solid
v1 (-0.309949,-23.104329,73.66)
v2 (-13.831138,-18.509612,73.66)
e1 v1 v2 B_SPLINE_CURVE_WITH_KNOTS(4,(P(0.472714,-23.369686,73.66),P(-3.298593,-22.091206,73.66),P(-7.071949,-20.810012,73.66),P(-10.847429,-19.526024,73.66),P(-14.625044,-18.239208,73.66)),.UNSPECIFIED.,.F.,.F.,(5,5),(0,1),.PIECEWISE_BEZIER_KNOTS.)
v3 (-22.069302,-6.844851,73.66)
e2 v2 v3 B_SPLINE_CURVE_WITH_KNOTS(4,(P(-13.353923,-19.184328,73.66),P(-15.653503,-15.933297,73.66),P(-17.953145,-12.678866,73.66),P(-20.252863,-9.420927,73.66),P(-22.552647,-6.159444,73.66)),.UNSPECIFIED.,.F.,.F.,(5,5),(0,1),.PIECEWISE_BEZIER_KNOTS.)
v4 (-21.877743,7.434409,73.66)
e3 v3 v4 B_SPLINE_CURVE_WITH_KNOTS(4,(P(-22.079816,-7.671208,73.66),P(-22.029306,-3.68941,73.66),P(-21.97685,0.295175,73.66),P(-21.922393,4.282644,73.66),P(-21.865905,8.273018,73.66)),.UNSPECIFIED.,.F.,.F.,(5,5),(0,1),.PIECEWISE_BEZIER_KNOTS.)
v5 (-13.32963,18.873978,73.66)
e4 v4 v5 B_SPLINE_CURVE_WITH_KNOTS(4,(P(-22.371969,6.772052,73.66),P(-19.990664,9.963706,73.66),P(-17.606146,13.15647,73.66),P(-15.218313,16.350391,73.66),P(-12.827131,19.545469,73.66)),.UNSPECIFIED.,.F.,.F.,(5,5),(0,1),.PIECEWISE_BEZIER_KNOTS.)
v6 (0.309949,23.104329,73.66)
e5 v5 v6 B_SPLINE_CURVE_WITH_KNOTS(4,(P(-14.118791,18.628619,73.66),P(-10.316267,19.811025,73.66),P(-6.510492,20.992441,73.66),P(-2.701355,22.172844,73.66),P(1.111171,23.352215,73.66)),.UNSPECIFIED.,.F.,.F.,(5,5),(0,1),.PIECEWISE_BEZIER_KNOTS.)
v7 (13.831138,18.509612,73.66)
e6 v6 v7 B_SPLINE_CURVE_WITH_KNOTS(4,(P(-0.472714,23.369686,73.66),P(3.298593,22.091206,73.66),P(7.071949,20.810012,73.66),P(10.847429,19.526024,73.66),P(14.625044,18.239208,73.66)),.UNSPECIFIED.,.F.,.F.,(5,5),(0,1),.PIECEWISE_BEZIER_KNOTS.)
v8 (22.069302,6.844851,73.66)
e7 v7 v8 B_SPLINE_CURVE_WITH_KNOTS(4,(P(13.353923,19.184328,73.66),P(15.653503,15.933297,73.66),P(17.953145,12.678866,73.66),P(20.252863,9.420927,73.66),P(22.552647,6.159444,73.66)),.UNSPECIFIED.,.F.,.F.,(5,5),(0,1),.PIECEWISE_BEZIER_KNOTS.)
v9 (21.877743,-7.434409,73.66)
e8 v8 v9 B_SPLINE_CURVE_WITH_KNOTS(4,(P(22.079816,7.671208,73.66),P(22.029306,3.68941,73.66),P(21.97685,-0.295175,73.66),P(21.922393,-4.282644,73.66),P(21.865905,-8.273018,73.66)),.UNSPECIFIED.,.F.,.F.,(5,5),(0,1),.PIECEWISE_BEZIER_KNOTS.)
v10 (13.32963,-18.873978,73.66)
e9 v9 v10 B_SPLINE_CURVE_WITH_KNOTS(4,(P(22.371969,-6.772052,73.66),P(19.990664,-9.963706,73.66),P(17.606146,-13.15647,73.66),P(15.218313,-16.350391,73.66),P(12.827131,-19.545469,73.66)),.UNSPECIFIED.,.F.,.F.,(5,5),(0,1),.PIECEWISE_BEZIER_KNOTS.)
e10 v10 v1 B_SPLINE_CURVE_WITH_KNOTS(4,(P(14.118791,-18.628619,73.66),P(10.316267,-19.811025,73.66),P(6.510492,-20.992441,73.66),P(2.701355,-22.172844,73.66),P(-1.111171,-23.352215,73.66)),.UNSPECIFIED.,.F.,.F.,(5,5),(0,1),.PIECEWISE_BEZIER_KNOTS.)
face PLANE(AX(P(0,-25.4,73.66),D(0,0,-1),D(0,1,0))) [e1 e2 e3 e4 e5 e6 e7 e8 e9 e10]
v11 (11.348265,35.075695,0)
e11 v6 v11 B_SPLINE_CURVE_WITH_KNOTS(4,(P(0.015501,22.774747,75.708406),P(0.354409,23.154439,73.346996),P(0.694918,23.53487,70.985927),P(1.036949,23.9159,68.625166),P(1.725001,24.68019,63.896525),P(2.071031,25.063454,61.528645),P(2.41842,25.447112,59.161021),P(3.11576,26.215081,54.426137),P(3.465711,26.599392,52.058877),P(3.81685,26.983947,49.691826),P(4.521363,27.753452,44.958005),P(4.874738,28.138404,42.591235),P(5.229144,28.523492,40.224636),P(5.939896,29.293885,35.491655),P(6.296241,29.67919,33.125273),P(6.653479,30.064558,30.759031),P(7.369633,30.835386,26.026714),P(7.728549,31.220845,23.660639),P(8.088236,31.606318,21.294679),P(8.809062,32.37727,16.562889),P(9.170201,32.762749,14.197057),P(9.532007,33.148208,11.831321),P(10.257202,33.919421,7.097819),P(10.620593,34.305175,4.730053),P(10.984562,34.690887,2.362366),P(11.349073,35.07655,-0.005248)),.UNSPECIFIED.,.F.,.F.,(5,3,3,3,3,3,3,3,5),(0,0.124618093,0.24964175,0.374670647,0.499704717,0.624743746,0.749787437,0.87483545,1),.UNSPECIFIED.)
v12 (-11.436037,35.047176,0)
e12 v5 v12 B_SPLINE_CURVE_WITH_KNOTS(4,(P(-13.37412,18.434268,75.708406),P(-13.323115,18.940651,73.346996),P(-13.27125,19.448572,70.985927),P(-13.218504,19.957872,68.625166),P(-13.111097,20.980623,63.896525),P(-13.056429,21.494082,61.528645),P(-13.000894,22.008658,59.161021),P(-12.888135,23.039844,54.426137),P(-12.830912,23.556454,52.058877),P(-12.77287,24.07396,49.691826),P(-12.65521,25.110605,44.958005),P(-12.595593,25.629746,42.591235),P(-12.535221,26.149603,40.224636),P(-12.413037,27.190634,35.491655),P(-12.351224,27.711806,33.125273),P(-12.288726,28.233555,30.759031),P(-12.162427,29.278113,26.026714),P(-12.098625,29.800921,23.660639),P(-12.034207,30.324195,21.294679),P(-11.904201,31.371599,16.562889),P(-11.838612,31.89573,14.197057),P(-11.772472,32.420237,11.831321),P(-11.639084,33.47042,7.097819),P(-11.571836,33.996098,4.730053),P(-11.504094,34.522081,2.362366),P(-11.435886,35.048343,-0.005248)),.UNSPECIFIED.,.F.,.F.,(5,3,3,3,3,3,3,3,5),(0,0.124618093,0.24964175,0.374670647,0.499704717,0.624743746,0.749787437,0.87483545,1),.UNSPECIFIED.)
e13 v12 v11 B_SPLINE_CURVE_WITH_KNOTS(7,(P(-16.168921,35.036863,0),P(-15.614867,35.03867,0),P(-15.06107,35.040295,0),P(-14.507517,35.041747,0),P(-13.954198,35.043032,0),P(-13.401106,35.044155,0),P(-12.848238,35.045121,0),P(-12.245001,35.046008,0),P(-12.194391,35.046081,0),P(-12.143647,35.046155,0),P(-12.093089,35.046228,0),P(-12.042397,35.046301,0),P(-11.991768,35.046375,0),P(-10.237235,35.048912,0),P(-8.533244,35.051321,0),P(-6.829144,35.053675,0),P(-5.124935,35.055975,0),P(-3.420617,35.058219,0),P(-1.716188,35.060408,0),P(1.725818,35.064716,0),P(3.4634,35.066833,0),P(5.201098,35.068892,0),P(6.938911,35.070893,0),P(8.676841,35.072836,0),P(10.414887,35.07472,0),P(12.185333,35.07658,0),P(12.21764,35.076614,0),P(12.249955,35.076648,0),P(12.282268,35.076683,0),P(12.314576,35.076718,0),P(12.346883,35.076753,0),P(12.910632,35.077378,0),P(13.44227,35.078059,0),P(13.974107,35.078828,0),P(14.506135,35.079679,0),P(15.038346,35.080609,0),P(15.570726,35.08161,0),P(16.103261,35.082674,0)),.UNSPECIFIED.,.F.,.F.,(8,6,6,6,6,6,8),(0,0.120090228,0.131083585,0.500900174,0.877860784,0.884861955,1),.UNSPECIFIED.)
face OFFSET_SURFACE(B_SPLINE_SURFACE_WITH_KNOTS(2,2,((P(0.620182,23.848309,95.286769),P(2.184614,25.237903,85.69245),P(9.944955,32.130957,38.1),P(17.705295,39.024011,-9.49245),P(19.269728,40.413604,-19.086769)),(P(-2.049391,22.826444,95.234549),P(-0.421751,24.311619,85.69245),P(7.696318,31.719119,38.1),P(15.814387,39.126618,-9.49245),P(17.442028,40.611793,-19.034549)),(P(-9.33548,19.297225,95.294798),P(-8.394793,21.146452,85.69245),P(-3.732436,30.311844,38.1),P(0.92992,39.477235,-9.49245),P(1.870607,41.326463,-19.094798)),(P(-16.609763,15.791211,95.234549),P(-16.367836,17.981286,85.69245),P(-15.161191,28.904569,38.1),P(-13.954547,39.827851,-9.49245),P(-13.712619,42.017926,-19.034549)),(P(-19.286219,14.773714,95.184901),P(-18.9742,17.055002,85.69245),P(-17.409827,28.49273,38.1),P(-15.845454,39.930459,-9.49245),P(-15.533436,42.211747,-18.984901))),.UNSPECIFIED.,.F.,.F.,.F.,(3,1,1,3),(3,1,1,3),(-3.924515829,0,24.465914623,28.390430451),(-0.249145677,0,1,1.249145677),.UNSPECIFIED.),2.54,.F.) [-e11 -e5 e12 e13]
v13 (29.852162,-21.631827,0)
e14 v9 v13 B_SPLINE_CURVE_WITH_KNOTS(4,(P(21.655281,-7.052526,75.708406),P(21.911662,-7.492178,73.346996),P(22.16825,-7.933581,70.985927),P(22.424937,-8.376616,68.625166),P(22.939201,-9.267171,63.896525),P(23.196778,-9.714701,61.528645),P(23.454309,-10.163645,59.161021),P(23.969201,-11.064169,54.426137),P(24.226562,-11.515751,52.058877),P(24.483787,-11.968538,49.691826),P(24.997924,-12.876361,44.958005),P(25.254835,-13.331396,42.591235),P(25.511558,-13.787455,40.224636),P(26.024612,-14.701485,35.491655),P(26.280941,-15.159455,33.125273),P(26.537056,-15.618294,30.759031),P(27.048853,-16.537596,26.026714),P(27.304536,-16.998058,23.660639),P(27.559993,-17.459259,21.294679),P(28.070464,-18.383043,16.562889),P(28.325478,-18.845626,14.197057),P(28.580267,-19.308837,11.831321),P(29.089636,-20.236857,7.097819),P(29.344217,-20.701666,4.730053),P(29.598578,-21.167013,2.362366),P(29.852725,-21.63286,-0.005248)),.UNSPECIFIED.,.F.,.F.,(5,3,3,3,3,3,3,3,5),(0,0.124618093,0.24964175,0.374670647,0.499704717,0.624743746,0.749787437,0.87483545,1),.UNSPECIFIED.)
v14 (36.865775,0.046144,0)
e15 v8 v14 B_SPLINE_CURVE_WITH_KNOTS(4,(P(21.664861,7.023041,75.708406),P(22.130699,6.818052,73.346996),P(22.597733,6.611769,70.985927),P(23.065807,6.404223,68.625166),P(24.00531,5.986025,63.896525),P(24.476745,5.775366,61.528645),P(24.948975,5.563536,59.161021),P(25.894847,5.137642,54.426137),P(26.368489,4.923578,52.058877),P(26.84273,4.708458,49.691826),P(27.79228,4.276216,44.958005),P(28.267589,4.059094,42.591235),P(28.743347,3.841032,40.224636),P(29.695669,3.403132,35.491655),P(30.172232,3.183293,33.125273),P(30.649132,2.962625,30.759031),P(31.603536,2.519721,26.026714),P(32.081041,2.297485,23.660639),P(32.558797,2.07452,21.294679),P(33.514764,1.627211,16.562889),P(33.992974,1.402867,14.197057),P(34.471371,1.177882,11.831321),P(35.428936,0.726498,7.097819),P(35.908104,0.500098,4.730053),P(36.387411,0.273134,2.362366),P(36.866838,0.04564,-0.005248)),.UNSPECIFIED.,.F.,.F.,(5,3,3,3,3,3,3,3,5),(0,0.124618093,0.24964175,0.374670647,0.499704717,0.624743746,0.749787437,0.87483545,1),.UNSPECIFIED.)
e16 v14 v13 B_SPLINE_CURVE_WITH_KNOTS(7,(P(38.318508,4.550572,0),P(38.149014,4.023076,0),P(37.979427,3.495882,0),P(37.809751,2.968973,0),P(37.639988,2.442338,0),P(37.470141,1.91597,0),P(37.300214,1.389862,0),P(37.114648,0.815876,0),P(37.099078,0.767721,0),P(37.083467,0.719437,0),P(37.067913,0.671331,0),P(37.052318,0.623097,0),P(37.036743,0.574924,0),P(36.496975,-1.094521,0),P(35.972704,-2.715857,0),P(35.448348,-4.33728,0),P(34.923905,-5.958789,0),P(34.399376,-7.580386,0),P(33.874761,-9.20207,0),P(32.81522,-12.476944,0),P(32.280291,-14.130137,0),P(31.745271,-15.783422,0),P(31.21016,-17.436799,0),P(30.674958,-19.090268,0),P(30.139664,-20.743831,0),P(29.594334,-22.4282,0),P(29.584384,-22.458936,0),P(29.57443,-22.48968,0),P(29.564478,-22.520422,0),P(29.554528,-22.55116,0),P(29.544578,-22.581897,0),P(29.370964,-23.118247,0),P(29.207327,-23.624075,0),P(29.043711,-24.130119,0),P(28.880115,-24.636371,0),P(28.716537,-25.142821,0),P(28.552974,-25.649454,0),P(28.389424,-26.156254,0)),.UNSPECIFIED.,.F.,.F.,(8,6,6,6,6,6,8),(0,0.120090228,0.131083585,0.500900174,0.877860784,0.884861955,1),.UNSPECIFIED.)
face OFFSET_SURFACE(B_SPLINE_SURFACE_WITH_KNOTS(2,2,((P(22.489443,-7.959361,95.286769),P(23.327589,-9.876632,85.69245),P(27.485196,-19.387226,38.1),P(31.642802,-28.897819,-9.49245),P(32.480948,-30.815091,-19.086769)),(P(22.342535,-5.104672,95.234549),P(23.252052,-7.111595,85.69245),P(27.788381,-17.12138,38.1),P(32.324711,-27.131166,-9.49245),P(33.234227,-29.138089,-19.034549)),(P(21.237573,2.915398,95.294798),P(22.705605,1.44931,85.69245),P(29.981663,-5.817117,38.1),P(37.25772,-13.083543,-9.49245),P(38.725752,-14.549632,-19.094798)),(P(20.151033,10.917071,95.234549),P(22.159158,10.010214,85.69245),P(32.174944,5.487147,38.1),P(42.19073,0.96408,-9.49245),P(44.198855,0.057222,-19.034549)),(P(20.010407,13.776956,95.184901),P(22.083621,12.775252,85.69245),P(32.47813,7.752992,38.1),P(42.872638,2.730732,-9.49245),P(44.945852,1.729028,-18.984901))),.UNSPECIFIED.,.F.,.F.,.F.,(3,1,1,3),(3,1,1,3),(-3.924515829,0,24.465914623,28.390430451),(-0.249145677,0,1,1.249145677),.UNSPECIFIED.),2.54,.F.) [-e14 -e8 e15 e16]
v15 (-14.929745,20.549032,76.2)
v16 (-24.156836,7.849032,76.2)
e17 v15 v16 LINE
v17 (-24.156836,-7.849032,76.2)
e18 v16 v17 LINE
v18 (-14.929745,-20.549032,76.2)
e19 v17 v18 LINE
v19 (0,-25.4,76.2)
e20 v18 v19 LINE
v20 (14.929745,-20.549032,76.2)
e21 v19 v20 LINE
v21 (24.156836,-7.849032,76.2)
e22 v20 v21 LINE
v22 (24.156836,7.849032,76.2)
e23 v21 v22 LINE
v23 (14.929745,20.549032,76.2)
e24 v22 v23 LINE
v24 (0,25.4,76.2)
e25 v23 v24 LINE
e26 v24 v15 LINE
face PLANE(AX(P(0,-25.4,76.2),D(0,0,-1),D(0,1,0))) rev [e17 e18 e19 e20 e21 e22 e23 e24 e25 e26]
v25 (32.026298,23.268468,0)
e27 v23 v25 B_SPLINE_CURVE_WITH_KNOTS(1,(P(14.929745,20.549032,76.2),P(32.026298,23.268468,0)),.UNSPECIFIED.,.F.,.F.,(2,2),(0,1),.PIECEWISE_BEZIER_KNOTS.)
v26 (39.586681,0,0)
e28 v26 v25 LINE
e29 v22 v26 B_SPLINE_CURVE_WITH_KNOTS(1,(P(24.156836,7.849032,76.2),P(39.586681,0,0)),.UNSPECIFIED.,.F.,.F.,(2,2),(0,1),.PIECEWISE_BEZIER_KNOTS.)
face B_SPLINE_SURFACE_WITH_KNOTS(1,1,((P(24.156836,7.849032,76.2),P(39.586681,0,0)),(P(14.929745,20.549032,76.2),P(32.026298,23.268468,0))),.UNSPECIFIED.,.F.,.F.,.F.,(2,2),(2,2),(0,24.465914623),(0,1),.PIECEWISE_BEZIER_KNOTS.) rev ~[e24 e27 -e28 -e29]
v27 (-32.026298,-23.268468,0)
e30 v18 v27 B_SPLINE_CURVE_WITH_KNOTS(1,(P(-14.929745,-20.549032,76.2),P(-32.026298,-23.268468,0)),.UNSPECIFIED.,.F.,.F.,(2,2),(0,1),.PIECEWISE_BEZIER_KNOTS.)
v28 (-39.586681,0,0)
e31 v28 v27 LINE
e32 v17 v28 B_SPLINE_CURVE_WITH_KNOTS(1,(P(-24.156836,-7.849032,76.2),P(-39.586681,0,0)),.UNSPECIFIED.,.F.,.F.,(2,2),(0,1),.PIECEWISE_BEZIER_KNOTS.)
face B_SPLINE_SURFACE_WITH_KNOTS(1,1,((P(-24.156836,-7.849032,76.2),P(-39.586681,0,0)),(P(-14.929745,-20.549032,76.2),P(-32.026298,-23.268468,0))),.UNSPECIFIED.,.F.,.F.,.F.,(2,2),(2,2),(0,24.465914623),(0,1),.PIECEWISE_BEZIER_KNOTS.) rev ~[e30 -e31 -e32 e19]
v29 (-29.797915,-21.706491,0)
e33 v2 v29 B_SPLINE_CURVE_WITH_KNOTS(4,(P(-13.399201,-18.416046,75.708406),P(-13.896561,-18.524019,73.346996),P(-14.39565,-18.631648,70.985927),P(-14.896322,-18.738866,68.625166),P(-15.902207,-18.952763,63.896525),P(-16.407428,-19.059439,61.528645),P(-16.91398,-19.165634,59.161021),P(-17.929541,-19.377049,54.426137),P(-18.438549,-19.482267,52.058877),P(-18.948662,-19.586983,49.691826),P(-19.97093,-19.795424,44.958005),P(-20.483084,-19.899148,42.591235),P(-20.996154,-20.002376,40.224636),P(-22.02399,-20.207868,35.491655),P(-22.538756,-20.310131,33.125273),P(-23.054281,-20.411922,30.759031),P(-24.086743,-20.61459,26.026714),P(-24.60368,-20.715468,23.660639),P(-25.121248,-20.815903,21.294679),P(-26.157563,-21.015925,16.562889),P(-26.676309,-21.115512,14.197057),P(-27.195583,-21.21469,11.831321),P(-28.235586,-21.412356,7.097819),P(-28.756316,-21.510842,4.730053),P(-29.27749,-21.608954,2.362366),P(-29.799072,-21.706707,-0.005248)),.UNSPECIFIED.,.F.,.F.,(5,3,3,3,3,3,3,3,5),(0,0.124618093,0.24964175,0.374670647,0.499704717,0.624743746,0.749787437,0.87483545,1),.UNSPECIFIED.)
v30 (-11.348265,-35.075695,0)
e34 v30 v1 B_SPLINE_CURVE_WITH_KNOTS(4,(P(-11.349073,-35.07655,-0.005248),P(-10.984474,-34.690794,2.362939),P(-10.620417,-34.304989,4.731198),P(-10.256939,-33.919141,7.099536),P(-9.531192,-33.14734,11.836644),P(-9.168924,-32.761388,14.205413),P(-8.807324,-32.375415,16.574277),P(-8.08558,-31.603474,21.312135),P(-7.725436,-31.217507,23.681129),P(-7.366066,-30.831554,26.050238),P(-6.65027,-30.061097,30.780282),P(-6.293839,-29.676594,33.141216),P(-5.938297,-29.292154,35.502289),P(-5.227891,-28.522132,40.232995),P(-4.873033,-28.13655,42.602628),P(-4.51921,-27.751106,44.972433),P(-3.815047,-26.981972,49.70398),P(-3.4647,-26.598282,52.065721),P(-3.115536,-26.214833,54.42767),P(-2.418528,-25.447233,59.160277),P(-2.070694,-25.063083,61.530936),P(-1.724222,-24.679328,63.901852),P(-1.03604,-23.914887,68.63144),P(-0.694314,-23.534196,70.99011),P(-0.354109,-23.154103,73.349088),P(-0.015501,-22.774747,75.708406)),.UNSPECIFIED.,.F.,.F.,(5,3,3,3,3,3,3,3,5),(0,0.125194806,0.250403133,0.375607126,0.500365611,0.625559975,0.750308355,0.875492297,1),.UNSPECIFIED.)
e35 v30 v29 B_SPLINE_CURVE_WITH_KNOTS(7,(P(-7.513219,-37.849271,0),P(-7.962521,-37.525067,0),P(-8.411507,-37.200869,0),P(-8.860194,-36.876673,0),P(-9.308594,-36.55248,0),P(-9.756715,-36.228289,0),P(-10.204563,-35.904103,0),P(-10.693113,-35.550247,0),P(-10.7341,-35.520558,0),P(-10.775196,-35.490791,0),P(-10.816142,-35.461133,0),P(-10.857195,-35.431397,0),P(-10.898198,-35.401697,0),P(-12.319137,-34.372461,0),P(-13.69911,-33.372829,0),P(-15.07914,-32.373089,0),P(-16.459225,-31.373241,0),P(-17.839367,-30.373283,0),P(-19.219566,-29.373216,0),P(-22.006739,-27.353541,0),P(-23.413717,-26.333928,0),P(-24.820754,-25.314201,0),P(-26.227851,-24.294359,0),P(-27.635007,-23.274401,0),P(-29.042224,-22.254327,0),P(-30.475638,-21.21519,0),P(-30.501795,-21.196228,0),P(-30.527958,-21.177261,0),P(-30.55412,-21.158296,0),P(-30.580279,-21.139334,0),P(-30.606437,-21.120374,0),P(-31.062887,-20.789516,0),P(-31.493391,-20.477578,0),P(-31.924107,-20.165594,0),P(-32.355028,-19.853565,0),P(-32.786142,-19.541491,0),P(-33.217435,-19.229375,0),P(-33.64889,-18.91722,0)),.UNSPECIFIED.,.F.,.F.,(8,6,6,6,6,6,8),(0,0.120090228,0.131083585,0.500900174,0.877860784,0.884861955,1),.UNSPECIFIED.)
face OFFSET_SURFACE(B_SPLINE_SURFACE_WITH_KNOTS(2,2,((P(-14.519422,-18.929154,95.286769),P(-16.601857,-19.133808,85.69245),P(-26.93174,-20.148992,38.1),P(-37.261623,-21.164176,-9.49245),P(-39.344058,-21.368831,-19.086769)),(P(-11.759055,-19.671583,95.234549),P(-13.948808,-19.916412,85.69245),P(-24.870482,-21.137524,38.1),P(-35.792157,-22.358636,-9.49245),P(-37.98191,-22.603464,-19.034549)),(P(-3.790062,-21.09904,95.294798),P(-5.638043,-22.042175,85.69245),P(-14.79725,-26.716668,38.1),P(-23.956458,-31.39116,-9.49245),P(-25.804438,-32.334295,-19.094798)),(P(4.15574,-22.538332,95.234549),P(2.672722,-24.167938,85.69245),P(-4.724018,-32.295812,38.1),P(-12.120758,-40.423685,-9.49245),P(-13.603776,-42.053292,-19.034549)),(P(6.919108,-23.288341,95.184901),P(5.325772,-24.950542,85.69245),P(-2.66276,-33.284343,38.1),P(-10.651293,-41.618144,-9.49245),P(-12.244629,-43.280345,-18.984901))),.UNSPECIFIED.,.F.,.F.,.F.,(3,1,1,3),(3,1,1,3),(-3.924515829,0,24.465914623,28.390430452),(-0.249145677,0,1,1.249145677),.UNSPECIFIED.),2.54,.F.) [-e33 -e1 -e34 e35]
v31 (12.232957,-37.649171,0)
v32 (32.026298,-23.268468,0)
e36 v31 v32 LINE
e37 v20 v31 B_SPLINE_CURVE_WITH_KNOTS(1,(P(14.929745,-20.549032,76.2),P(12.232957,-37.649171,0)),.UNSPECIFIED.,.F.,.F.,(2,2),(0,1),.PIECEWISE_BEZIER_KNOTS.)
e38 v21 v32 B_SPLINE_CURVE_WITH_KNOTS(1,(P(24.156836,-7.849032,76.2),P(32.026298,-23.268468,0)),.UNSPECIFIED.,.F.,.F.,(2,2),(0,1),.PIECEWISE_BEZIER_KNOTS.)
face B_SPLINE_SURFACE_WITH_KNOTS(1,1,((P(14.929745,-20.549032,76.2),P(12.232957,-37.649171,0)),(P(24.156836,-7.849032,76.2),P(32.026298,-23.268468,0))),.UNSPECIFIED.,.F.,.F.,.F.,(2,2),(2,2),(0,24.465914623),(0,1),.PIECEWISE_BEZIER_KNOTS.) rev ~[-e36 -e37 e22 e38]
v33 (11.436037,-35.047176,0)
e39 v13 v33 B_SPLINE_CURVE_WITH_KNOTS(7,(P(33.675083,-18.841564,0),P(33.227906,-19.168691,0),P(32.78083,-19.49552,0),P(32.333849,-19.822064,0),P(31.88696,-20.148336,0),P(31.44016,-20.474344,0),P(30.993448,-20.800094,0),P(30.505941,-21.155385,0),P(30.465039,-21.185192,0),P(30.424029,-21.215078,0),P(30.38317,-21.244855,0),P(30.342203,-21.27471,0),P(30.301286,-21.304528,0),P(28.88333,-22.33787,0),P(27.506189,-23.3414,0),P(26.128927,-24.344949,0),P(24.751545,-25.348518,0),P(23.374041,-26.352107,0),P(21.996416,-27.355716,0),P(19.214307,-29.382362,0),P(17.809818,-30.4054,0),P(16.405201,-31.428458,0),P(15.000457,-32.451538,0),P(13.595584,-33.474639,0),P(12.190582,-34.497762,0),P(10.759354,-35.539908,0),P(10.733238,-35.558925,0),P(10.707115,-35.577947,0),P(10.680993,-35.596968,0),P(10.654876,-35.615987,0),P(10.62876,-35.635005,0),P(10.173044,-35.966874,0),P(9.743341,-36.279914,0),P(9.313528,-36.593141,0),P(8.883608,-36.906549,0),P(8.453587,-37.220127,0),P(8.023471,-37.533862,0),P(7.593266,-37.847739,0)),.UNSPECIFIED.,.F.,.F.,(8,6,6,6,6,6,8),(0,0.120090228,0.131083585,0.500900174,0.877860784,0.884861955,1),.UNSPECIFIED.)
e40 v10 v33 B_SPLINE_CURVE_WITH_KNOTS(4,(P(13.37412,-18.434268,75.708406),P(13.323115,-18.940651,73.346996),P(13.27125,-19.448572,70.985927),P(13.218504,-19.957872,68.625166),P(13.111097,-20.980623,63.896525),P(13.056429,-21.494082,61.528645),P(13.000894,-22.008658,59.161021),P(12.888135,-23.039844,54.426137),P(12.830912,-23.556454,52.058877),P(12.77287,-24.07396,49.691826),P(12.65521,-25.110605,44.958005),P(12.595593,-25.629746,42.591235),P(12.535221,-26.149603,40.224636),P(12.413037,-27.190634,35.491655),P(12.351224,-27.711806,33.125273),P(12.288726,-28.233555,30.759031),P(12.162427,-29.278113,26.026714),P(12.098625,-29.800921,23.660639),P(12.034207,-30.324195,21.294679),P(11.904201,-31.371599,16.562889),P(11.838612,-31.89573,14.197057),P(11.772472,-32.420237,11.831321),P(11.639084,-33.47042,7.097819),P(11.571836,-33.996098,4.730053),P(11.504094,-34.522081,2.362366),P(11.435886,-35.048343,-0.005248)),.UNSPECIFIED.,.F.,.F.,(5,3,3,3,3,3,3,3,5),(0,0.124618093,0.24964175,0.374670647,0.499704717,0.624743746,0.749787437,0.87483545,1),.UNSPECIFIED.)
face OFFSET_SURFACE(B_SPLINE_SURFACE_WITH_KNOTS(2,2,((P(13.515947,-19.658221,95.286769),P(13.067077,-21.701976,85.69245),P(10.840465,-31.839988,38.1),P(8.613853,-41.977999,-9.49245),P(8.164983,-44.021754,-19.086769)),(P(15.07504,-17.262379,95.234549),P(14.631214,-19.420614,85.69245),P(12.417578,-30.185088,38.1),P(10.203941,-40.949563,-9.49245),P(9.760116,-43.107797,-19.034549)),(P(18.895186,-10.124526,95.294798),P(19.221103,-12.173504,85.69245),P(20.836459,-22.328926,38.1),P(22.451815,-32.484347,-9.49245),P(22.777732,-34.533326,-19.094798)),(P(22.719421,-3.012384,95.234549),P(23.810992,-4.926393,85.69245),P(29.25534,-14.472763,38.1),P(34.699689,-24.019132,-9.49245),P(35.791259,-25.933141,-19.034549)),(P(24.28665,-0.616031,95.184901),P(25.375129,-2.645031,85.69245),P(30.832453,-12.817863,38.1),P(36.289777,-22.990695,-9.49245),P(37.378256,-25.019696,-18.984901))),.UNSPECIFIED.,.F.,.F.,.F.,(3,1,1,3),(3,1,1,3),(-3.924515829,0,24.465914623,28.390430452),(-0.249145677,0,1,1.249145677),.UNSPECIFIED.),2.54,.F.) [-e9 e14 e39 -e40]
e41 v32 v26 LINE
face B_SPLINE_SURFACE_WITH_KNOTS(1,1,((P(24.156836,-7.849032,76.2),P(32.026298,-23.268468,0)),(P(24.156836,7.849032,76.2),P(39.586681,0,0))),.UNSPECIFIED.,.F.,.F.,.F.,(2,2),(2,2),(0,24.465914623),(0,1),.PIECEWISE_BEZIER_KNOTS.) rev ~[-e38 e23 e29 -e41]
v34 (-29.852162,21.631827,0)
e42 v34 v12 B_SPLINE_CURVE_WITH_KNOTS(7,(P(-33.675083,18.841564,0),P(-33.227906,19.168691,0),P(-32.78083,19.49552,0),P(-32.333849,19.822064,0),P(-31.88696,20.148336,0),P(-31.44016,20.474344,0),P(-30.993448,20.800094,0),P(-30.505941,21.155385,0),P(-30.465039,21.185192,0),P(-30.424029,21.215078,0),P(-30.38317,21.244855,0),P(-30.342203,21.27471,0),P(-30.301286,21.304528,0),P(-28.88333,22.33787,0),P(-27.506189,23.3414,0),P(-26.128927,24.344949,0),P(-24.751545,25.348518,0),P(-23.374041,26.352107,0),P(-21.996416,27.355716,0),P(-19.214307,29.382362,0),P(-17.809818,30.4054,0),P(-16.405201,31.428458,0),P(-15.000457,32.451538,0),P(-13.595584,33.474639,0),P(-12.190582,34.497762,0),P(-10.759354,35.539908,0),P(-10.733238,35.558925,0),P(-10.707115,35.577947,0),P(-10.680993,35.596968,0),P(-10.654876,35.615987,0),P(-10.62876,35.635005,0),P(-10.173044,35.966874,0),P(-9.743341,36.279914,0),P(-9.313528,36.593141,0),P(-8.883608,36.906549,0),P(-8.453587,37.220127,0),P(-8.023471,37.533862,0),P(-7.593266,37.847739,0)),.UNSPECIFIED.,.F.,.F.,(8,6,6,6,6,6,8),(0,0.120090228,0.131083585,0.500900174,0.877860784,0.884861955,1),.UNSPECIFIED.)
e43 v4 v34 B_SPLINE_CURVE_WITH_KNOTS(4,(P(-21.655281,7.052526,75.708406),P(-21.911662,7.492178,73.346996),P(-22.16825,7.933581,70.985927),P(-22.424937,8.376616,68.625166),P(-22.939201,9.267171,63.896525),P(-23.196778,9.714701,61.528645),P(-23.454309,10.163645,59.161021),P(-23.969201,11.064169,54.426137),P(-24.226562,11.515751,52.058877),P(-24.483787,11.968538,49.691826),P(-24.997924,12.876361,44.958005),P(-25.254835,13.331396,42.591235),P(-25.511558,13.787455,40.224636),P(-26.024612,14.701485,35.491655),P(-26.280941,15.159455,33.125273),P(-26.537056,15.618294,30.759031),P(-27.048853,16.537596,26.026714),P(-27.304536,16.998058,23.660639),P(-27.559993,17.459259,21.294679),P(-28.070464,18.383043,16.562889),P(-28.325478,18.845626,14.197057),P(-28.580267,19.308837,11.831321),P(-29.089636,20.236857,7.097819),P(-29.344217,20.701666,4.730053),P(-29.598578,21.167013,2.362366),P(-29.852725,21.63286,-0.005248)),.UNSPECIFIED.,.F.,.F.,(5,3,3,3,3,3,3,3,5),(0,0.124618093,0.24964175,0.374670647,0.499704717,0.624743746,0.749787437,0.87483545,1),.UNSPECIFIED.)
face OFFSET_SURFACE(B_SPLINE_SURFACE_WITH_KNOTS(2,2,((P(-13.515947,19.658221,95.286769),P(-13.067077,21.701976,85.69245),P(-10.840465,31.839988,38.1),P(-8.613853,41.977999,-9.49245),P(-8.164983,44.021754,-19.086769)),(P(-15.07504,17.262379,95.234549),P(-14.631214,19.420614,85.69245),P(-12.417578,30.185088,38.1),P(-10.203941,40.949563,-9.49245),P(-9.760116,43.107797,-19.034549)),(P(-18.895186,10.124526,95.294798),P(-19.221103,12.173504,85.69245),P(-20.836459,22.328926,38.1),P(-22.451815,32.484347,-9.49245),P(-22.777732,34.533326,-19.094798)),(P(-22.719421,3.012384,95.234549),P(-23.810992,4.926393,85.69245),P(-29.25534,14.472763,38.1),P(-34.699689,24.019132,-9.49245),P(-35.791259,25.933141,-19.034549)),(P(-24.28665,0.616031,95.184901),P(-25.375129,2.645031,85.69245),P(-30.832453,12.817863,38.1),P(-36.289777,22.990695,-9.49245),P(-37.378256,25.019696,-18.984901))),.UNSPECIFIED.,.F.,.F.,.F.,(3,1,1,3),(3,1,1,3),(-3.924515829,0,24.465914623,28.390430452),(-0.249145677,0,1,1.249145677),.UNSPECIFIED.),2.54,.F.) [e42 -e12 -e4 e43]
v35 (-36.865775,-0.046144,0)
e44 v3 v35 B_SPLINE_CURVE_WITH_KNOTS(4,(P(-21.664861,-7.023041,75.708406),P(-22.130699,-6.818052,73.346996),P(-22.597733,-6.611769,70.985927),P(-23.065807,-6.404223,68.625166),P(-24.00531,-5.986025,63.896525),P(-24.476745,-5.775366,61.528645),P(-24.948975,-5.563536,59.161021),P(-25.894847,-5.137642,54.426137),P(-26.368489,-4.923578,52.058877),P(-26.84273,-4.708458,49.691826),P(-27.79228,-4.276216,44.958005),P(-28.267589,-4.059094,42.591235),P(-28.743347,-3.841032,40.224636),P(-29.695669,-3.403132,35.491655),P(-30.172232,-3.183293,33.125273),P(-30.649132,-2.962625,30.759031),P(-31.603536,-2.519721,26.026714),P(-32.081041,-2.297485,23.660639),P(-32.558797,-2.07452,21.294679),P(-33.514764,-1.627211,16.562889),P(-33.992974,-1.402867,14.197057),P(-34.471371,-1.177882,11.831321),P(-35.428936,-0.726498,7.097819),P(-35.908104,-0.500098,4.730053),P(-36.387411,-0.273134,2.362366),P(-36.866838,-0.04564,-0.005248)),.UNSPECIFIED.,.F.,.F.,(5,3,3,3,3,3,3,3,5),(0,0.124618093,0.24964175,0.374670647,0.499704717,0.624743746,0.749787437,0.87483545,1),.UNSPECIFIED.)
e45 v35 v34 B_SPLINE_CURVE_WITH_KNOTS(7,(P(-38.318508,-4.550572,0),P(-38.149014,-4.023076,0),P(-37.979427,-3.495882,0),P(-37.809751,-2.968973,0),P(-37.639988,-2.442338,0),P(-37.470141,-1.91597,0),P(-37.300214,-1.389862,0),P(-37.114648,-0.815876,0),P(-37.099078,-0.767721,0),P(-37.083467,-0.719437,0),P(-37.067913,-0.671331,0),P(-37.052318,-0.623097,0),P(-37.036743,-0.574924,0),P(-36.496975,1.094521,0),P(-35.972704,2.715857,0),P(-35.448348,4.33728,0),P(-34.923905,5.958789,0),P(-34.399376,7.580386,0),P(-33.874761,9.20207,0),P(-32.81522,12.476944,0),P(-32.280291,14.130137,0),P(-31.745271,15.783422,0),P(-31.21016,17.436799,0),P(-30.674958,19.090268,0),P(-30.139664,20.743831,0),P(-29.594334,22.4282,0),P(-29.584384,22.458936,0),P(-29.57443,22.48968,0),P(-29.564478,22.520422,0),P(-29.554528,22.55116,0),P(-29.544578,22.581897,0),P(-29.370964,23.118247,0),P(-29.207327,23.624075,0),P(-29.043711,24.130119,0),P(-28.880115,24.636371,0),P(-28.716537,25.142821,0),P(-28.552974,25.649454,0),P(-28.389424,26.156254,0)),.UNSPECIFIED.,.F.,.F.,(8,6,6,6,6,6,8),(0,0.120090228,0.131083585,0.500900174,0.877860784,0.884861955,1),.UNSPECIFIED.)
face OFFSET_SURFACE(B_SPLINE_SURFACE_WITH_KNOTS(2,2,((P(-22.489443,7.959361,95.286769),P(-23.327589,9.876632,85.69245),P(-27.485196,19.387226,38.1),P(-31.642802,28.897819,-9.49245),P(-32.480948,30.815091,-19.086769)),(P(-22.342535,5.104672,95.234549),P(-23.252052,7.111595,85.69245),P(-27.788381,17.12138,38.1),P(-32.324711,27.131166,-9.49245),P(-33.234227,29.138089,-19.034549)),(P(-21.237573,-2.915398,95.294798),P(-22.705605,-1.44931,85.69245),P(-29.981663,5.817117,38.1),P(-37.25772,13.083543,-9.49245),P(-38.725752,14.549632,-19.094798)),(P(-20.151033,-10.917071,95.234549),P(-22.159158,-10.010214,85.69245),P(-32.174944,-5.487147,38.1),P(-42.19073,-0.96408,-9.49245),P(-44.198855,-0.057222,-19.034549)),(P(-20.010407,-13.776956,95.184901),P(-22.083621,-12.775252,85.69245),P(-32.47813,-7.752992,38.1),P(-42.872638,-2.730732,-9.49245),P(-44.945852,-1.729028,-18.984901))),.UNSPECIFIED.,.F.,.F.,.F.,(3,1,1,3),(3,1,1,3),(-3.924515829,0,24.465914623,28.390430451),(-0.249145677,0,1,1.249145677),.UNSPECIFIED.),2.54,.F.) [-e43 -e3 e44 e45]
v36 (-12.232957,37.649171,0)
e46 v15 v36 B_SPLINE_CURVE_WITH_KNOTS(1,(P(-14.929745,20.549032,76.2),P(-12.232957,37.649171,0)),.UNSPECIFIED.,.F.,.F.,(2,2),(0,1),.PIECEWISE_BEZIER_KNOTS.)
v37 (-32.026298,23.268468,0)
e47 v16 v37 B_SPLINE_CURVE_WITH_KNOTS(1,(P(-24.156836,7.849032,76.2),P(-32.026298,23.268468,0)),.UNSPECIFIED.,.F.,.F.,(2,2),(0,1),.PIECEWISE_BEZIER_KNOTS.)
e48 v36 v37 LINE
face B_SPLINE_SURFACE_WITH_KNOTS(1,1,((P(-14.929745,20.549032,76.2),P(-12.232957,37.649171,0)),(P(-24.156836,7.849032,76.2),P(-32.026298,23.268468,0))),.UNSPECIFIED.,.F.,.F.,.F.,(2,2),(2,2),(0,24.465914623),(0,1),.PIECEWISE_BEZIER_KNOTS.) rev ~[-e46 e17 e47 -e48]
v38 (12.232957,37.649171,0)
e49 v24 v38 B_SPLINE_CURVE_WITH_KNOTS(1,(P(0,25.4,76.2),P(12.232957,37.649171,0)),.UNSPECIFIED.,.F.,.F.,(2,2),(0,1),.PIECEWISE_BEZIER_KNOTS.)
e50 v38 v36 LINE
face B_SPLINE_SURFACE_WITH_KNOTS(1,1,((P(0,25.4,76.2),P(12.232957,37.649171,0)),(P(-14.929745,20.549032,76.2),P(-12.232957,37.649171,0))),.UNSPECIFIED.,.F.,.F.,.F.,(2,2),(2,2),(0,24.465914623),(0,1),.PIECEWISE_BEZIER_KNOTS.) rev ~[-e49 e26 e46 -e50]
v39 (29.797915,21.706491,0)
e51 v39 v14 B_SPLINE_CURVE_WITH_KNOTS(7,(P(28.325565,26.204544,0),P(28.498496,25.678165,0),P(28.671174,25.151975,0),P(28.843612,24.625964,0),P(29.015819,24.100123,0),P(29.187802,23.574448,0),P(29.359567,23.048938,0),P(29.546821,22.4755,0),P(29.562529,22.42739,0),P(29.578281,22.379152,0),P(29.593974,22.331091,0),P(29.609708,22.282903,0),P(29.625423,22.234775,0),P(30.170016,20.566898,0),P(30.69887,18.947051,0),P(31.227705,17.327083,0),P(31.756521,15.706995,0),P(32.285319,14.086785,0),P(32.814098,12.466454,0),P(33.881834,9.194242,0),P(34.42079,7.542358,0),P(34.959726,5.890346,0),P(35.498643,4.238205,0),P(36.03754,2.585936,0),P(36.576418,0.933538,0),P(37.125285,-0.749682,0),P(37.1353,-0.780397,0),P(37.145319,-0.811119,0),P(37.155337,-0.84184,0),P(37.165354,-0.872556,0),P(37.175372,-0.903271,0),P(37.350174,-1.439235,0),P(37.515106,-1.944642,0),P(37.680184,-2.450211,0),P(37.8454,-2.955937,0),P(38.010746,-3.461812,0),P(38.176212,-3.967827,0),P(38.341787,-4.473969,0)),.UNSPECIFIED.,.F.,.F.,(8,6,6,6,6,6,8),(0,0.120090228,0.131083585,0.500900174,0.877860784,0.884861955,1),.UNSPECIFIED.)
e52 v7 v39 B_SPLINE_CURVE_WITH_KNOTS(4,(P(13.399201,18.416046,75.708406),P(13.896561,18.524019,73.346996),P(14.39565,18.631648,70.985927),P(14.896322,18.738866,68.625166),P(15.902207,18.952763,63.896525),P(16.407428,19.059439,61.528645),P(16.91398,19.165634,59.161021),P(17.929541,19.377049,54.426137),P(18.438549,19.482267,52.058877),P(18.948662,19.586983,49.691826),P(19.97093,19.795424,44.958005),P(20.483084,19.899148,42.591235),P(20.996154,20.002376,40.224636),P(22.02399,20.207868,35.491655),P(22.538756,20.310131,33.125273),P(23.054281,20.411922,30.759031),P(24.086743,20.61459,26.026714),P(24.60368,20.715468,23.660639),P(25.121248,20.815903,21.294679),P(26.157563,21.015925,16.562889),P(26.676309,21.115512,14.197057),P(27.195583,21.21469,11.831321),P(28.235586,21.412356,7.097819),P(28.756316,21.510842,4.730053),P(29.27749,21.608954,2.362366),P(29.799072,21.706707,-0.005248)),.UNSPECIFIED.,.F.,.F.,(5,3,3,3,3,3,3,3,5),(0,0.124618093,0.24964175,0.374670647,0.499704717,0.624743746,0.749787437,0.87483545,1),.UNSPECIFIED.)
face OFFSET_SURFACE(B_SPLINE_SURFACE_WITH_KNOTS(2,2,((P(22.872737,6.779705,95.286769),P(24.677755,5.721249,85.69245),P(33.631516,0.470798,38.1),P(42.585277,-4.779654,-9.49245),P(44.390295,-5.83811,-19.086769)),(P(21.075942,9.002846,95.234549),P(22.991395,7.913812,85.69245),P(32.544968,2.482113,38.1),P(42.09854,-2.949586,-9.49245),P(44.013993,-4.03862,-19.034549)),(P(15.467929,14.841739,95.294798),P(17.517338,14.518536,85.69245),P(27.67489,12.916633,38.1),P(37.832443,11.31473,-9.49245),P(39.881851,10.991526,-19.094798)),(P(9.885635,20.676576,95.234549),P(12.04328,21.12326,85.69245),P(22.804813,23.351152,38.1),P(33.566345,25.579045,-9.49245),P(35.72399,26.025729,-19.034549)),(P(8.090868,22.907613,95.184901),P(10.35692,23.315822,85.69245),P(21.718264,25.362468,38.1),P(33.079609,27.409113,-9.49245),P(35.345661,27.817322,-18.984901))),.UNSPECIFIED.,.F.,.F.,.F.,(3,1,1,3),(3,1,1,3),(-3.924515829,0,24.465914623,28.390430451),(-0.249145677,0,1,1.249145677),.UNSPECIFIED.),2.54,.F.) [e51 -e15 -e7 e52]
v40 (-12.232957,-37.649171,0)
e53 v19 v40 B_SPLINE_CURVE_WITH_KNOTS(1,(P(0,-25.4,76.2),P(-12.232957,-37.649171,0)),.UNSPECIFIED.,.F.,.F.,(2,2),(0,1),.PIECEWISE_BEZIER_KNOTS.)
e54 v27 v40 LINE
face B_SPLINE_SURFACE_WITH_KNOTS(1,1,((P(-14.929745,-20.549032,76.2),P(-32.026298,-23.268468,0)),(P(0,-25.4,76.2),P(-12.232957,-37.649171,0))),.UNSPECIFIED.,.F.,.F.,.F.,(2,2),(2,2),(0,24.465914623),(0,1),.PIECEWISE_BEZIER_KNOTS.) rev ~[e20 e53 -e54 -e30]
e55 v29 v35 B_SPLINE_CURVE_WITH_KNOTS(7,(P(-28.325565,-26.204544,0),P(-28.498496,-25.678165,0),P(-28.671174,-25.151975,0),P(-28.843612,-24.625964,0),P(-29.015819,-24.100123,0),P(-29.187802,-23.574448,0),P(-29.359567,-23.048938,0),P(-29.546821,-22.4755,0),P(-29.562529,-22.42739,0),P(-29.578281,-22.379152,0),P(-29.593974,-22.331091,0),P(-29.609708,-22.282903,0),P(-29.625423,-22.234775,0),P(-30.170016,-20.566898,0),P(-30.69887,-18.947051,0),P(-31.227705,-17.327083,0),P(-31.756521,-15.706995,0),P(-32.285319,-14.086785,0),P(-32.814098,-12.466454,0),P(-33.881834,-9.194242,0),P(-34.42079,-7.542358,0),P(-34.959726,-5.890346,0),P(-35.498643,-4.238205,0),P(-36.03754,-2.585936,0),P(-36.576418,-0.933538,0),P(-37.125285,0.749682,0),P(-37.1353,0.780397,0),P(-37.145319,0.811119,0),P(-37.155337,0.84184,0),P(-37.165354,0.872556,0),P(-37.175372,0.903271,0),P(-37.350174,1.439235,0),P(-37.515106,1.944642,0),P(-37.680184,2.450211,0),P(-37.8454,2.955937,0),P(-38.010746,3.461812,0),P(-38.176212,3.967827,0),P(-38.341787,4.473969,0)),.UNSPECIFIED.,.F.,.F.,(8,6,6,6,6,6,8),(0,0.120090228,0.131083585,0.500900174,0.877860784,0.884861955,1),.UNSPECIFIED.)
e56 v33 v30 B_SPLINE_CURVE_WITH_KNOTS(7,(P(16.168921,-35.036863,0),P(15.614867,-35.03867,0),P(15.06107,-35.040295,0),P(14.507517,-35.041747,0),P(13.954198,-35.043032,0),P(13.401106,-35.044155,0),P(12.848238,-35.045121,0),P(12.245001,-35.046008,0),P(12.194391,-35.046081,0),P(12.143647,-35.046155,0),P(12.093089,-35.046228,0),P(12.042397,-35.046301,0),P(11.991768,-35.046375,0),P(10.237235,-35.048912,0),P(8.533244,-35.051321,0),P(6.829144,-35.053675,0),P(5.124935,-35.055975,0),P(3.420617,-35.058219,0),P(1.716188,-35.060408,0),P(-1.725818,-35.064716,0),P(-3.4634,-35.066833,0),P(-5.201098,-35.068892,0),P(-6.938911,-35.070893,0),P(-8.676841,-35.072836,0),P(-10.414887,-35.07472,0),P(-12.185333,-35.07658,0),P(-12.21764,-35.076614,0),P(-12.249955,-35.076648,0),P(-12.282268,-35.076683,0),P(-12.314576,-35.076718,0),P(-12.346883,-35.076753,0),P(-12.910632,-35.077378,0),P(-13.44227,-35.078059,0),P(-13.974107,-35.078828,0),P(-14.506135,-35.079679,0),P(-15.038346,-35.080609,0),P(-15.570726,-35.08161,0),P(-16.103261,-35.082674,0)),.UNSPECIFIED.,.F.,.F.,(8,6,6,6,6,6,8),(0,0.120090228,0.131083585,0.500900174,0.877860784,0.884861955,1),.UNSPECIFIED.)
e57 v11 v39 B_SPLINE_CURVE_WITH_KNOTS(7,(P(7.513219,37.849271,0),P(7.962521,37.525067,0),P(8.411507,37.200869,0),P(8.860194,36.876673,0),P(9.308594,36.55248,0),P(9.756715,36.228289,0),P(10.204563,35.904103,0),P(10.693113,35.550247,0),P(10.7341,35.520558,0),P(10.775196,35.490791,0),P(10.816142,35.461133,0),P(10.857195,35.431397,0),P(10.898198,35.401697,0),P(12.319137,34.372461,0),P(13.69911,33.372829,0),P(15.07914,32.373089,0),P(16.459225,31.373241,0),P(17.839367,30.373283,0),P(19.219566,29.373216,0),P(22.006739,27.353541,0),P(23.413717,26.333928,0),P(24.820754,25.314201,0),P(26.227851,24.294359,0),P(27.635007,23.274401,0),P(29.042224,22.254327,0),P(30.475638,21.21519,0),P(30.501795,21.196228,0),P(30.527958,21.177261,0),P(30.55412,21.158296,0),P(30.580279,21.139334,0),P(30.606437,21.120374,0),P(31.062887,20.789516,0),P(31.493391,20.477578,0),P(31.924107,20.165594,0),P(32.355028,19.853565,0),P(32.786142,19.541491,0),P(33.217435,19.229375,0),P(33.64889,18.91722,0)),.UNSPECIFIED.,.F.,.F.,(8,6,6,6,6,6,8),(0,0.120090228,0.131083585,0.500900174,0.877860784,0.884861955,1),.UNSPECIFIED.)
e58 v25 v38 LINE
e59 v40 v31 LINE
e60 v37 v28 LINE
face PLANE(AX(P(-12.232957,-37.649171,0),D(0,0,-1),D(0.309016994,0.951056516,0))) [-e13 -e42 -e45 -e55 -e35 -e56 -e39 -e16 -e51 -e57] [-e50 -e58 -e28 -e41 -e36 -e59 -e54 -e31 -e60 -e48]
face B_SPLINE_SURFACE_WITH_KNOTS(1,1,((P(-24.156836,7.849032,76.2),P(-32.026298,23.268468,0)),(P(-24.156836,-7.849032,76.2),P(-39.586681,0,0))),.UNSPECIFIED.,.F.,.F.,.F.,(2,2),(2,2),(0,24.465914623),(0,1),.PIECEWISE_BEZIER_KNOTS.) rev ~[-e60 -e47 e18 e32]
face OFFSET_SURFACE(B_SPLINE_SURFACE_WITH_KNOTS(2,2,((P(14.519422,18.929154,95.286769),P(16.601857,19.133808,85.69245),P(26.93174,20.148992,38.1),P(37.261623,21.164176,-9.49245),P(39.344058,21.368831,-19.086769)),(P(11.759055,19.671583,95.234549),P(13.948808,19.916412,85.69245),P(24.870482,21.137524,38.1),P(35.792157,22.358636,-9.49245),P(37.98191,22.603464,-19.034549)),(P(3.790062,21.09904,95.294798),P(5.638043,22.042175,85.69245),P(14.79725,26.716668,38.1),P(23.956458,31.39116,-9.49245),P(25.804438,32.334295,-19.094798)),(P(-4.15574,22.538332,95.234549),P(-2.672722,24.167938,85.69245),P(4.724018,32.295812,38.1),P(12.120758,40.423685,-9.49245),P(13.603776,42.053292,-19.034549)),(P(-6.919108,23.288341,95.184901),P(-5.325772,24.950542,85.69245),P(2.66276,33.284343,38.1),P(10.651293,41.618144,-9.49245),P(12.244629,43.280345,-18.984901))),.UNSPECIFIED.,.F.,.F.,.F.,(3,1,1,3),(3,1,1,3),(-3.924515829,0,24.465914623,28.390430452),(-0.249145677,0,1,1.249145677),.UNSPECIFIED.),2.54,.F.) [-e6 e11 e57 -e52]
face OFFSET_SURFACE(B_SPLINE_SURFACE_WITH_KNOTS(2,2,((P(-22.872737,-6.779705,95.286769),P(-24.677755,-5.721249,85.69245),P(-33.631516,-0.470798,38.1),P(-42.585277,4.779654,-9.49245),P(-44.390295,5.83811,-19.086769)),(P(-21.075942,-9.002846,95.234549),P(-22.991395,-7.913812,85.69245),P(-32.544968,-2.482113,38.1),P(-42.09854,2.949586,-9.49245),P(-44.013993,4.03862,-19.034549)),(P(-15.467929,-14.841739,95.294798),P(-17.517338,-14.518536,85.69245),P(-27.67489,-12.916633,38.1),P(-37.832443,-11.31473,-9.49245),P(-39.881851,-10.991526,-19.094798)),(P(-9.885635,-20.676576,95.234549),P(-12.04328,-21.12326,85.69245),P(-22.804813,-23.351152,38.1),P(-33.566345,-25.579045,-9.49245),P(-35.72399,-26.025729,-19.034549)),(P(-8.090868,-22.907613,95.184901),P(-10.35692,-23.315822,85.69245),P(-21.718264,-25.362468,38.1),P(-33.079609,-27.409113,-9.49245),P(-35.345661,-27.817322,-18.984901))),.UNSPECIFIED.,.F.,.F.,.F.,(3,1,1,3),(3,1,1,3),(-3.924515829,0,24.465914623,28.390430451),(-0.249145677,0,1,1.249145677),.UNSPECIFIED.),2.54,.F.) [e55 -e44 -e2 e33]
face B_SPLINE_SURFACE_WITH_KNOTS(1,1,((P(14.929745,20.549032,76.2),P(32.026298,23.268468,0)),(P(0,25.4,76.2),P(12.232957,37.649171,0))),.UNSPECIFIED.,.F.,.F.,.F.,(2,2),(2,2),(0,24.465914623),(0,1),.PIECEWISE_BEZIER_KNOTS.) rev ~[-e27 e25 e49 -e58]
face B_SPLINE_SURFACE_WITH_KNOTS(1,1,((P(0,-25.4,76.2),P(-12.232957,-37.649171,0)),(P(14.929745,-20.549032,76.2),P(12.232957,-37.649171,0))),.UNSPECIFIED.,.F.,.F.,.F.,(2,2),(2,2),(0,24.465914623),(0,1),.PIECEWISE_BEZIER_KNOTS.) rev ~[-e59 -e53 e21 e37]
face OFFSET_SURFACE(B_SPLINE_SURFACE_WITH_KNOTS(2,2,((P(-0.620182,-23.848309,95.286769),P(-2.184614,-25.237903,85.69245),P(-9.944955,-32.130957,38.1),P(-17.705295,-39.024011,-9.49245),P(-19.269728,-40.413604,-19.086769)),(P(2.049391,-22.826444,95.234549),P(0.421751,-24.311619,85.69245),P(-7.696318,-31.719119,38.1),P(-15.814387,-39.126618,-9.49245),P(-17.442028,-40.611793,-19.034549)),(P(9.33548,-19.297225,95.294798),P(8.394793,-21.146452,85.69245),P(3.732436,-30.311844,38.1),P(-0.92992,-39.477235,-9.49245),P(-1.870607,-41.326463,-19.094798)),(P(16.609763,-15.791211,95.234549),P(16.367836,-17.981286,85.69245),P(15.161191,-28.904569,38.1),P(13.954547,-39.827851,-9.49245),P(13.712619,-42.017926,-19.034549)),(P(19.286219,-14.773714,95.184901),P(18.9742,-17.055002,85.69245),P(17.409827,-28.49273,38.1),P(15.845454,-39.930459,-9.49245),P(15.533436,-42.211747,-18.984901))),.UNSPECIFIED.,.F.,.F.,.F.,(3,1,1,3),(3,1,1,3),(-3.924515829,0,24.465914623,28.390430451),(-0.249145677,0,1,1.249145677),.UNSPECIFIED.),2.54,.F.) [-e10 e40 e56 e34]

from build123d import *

# Parameters (mm, degrees)
F4_T = -2.54


with BuildPart() as f3:
    # F2 (on offset) → F3 section 0
    with BuildSketch(Plane.XY.offset(76.2)):
        Polygon((0, -25.4), (14.9297454082, -20.5490316571), (24.1568355139, -7.8490316571), (24.1568355139, 7.8490316571), (14.9297454082, 20.5490316571), (0, 25.4), (-14.9297454082, 20.5490316571), (-24.1568355139, 7.8490316571), (-24.1568355139, -7.8490316571), (-14.9297454082, -20.5490316571), align=None)
    # F0 (on Top) → F3 section 1
    with BuildSketch(Plane.XY):
        Polygon((-12.2329573114, -37.6491713284), (12.2329573114, -37.6491713284), (32.0262980243, -23.2684675292), (39.5866814257, 0), (32.0262980243, 23.2684675292), (12.2329573114, 37.6491713284), (-12.2329573114, 37.6491713284), (-32.0262980243, 23.2684675292), (-39.5866814257, 0), (-32.0262980243, -23.2684675292), align=None)
    loft()

    # F4
    f4_openings = [f3.faces().sort_by_distance(p)[0] for p in [
        (0, 0, 0),
    ]]
    offset(amount=F4_T, openings=f4_openings)


solid = f3.part
